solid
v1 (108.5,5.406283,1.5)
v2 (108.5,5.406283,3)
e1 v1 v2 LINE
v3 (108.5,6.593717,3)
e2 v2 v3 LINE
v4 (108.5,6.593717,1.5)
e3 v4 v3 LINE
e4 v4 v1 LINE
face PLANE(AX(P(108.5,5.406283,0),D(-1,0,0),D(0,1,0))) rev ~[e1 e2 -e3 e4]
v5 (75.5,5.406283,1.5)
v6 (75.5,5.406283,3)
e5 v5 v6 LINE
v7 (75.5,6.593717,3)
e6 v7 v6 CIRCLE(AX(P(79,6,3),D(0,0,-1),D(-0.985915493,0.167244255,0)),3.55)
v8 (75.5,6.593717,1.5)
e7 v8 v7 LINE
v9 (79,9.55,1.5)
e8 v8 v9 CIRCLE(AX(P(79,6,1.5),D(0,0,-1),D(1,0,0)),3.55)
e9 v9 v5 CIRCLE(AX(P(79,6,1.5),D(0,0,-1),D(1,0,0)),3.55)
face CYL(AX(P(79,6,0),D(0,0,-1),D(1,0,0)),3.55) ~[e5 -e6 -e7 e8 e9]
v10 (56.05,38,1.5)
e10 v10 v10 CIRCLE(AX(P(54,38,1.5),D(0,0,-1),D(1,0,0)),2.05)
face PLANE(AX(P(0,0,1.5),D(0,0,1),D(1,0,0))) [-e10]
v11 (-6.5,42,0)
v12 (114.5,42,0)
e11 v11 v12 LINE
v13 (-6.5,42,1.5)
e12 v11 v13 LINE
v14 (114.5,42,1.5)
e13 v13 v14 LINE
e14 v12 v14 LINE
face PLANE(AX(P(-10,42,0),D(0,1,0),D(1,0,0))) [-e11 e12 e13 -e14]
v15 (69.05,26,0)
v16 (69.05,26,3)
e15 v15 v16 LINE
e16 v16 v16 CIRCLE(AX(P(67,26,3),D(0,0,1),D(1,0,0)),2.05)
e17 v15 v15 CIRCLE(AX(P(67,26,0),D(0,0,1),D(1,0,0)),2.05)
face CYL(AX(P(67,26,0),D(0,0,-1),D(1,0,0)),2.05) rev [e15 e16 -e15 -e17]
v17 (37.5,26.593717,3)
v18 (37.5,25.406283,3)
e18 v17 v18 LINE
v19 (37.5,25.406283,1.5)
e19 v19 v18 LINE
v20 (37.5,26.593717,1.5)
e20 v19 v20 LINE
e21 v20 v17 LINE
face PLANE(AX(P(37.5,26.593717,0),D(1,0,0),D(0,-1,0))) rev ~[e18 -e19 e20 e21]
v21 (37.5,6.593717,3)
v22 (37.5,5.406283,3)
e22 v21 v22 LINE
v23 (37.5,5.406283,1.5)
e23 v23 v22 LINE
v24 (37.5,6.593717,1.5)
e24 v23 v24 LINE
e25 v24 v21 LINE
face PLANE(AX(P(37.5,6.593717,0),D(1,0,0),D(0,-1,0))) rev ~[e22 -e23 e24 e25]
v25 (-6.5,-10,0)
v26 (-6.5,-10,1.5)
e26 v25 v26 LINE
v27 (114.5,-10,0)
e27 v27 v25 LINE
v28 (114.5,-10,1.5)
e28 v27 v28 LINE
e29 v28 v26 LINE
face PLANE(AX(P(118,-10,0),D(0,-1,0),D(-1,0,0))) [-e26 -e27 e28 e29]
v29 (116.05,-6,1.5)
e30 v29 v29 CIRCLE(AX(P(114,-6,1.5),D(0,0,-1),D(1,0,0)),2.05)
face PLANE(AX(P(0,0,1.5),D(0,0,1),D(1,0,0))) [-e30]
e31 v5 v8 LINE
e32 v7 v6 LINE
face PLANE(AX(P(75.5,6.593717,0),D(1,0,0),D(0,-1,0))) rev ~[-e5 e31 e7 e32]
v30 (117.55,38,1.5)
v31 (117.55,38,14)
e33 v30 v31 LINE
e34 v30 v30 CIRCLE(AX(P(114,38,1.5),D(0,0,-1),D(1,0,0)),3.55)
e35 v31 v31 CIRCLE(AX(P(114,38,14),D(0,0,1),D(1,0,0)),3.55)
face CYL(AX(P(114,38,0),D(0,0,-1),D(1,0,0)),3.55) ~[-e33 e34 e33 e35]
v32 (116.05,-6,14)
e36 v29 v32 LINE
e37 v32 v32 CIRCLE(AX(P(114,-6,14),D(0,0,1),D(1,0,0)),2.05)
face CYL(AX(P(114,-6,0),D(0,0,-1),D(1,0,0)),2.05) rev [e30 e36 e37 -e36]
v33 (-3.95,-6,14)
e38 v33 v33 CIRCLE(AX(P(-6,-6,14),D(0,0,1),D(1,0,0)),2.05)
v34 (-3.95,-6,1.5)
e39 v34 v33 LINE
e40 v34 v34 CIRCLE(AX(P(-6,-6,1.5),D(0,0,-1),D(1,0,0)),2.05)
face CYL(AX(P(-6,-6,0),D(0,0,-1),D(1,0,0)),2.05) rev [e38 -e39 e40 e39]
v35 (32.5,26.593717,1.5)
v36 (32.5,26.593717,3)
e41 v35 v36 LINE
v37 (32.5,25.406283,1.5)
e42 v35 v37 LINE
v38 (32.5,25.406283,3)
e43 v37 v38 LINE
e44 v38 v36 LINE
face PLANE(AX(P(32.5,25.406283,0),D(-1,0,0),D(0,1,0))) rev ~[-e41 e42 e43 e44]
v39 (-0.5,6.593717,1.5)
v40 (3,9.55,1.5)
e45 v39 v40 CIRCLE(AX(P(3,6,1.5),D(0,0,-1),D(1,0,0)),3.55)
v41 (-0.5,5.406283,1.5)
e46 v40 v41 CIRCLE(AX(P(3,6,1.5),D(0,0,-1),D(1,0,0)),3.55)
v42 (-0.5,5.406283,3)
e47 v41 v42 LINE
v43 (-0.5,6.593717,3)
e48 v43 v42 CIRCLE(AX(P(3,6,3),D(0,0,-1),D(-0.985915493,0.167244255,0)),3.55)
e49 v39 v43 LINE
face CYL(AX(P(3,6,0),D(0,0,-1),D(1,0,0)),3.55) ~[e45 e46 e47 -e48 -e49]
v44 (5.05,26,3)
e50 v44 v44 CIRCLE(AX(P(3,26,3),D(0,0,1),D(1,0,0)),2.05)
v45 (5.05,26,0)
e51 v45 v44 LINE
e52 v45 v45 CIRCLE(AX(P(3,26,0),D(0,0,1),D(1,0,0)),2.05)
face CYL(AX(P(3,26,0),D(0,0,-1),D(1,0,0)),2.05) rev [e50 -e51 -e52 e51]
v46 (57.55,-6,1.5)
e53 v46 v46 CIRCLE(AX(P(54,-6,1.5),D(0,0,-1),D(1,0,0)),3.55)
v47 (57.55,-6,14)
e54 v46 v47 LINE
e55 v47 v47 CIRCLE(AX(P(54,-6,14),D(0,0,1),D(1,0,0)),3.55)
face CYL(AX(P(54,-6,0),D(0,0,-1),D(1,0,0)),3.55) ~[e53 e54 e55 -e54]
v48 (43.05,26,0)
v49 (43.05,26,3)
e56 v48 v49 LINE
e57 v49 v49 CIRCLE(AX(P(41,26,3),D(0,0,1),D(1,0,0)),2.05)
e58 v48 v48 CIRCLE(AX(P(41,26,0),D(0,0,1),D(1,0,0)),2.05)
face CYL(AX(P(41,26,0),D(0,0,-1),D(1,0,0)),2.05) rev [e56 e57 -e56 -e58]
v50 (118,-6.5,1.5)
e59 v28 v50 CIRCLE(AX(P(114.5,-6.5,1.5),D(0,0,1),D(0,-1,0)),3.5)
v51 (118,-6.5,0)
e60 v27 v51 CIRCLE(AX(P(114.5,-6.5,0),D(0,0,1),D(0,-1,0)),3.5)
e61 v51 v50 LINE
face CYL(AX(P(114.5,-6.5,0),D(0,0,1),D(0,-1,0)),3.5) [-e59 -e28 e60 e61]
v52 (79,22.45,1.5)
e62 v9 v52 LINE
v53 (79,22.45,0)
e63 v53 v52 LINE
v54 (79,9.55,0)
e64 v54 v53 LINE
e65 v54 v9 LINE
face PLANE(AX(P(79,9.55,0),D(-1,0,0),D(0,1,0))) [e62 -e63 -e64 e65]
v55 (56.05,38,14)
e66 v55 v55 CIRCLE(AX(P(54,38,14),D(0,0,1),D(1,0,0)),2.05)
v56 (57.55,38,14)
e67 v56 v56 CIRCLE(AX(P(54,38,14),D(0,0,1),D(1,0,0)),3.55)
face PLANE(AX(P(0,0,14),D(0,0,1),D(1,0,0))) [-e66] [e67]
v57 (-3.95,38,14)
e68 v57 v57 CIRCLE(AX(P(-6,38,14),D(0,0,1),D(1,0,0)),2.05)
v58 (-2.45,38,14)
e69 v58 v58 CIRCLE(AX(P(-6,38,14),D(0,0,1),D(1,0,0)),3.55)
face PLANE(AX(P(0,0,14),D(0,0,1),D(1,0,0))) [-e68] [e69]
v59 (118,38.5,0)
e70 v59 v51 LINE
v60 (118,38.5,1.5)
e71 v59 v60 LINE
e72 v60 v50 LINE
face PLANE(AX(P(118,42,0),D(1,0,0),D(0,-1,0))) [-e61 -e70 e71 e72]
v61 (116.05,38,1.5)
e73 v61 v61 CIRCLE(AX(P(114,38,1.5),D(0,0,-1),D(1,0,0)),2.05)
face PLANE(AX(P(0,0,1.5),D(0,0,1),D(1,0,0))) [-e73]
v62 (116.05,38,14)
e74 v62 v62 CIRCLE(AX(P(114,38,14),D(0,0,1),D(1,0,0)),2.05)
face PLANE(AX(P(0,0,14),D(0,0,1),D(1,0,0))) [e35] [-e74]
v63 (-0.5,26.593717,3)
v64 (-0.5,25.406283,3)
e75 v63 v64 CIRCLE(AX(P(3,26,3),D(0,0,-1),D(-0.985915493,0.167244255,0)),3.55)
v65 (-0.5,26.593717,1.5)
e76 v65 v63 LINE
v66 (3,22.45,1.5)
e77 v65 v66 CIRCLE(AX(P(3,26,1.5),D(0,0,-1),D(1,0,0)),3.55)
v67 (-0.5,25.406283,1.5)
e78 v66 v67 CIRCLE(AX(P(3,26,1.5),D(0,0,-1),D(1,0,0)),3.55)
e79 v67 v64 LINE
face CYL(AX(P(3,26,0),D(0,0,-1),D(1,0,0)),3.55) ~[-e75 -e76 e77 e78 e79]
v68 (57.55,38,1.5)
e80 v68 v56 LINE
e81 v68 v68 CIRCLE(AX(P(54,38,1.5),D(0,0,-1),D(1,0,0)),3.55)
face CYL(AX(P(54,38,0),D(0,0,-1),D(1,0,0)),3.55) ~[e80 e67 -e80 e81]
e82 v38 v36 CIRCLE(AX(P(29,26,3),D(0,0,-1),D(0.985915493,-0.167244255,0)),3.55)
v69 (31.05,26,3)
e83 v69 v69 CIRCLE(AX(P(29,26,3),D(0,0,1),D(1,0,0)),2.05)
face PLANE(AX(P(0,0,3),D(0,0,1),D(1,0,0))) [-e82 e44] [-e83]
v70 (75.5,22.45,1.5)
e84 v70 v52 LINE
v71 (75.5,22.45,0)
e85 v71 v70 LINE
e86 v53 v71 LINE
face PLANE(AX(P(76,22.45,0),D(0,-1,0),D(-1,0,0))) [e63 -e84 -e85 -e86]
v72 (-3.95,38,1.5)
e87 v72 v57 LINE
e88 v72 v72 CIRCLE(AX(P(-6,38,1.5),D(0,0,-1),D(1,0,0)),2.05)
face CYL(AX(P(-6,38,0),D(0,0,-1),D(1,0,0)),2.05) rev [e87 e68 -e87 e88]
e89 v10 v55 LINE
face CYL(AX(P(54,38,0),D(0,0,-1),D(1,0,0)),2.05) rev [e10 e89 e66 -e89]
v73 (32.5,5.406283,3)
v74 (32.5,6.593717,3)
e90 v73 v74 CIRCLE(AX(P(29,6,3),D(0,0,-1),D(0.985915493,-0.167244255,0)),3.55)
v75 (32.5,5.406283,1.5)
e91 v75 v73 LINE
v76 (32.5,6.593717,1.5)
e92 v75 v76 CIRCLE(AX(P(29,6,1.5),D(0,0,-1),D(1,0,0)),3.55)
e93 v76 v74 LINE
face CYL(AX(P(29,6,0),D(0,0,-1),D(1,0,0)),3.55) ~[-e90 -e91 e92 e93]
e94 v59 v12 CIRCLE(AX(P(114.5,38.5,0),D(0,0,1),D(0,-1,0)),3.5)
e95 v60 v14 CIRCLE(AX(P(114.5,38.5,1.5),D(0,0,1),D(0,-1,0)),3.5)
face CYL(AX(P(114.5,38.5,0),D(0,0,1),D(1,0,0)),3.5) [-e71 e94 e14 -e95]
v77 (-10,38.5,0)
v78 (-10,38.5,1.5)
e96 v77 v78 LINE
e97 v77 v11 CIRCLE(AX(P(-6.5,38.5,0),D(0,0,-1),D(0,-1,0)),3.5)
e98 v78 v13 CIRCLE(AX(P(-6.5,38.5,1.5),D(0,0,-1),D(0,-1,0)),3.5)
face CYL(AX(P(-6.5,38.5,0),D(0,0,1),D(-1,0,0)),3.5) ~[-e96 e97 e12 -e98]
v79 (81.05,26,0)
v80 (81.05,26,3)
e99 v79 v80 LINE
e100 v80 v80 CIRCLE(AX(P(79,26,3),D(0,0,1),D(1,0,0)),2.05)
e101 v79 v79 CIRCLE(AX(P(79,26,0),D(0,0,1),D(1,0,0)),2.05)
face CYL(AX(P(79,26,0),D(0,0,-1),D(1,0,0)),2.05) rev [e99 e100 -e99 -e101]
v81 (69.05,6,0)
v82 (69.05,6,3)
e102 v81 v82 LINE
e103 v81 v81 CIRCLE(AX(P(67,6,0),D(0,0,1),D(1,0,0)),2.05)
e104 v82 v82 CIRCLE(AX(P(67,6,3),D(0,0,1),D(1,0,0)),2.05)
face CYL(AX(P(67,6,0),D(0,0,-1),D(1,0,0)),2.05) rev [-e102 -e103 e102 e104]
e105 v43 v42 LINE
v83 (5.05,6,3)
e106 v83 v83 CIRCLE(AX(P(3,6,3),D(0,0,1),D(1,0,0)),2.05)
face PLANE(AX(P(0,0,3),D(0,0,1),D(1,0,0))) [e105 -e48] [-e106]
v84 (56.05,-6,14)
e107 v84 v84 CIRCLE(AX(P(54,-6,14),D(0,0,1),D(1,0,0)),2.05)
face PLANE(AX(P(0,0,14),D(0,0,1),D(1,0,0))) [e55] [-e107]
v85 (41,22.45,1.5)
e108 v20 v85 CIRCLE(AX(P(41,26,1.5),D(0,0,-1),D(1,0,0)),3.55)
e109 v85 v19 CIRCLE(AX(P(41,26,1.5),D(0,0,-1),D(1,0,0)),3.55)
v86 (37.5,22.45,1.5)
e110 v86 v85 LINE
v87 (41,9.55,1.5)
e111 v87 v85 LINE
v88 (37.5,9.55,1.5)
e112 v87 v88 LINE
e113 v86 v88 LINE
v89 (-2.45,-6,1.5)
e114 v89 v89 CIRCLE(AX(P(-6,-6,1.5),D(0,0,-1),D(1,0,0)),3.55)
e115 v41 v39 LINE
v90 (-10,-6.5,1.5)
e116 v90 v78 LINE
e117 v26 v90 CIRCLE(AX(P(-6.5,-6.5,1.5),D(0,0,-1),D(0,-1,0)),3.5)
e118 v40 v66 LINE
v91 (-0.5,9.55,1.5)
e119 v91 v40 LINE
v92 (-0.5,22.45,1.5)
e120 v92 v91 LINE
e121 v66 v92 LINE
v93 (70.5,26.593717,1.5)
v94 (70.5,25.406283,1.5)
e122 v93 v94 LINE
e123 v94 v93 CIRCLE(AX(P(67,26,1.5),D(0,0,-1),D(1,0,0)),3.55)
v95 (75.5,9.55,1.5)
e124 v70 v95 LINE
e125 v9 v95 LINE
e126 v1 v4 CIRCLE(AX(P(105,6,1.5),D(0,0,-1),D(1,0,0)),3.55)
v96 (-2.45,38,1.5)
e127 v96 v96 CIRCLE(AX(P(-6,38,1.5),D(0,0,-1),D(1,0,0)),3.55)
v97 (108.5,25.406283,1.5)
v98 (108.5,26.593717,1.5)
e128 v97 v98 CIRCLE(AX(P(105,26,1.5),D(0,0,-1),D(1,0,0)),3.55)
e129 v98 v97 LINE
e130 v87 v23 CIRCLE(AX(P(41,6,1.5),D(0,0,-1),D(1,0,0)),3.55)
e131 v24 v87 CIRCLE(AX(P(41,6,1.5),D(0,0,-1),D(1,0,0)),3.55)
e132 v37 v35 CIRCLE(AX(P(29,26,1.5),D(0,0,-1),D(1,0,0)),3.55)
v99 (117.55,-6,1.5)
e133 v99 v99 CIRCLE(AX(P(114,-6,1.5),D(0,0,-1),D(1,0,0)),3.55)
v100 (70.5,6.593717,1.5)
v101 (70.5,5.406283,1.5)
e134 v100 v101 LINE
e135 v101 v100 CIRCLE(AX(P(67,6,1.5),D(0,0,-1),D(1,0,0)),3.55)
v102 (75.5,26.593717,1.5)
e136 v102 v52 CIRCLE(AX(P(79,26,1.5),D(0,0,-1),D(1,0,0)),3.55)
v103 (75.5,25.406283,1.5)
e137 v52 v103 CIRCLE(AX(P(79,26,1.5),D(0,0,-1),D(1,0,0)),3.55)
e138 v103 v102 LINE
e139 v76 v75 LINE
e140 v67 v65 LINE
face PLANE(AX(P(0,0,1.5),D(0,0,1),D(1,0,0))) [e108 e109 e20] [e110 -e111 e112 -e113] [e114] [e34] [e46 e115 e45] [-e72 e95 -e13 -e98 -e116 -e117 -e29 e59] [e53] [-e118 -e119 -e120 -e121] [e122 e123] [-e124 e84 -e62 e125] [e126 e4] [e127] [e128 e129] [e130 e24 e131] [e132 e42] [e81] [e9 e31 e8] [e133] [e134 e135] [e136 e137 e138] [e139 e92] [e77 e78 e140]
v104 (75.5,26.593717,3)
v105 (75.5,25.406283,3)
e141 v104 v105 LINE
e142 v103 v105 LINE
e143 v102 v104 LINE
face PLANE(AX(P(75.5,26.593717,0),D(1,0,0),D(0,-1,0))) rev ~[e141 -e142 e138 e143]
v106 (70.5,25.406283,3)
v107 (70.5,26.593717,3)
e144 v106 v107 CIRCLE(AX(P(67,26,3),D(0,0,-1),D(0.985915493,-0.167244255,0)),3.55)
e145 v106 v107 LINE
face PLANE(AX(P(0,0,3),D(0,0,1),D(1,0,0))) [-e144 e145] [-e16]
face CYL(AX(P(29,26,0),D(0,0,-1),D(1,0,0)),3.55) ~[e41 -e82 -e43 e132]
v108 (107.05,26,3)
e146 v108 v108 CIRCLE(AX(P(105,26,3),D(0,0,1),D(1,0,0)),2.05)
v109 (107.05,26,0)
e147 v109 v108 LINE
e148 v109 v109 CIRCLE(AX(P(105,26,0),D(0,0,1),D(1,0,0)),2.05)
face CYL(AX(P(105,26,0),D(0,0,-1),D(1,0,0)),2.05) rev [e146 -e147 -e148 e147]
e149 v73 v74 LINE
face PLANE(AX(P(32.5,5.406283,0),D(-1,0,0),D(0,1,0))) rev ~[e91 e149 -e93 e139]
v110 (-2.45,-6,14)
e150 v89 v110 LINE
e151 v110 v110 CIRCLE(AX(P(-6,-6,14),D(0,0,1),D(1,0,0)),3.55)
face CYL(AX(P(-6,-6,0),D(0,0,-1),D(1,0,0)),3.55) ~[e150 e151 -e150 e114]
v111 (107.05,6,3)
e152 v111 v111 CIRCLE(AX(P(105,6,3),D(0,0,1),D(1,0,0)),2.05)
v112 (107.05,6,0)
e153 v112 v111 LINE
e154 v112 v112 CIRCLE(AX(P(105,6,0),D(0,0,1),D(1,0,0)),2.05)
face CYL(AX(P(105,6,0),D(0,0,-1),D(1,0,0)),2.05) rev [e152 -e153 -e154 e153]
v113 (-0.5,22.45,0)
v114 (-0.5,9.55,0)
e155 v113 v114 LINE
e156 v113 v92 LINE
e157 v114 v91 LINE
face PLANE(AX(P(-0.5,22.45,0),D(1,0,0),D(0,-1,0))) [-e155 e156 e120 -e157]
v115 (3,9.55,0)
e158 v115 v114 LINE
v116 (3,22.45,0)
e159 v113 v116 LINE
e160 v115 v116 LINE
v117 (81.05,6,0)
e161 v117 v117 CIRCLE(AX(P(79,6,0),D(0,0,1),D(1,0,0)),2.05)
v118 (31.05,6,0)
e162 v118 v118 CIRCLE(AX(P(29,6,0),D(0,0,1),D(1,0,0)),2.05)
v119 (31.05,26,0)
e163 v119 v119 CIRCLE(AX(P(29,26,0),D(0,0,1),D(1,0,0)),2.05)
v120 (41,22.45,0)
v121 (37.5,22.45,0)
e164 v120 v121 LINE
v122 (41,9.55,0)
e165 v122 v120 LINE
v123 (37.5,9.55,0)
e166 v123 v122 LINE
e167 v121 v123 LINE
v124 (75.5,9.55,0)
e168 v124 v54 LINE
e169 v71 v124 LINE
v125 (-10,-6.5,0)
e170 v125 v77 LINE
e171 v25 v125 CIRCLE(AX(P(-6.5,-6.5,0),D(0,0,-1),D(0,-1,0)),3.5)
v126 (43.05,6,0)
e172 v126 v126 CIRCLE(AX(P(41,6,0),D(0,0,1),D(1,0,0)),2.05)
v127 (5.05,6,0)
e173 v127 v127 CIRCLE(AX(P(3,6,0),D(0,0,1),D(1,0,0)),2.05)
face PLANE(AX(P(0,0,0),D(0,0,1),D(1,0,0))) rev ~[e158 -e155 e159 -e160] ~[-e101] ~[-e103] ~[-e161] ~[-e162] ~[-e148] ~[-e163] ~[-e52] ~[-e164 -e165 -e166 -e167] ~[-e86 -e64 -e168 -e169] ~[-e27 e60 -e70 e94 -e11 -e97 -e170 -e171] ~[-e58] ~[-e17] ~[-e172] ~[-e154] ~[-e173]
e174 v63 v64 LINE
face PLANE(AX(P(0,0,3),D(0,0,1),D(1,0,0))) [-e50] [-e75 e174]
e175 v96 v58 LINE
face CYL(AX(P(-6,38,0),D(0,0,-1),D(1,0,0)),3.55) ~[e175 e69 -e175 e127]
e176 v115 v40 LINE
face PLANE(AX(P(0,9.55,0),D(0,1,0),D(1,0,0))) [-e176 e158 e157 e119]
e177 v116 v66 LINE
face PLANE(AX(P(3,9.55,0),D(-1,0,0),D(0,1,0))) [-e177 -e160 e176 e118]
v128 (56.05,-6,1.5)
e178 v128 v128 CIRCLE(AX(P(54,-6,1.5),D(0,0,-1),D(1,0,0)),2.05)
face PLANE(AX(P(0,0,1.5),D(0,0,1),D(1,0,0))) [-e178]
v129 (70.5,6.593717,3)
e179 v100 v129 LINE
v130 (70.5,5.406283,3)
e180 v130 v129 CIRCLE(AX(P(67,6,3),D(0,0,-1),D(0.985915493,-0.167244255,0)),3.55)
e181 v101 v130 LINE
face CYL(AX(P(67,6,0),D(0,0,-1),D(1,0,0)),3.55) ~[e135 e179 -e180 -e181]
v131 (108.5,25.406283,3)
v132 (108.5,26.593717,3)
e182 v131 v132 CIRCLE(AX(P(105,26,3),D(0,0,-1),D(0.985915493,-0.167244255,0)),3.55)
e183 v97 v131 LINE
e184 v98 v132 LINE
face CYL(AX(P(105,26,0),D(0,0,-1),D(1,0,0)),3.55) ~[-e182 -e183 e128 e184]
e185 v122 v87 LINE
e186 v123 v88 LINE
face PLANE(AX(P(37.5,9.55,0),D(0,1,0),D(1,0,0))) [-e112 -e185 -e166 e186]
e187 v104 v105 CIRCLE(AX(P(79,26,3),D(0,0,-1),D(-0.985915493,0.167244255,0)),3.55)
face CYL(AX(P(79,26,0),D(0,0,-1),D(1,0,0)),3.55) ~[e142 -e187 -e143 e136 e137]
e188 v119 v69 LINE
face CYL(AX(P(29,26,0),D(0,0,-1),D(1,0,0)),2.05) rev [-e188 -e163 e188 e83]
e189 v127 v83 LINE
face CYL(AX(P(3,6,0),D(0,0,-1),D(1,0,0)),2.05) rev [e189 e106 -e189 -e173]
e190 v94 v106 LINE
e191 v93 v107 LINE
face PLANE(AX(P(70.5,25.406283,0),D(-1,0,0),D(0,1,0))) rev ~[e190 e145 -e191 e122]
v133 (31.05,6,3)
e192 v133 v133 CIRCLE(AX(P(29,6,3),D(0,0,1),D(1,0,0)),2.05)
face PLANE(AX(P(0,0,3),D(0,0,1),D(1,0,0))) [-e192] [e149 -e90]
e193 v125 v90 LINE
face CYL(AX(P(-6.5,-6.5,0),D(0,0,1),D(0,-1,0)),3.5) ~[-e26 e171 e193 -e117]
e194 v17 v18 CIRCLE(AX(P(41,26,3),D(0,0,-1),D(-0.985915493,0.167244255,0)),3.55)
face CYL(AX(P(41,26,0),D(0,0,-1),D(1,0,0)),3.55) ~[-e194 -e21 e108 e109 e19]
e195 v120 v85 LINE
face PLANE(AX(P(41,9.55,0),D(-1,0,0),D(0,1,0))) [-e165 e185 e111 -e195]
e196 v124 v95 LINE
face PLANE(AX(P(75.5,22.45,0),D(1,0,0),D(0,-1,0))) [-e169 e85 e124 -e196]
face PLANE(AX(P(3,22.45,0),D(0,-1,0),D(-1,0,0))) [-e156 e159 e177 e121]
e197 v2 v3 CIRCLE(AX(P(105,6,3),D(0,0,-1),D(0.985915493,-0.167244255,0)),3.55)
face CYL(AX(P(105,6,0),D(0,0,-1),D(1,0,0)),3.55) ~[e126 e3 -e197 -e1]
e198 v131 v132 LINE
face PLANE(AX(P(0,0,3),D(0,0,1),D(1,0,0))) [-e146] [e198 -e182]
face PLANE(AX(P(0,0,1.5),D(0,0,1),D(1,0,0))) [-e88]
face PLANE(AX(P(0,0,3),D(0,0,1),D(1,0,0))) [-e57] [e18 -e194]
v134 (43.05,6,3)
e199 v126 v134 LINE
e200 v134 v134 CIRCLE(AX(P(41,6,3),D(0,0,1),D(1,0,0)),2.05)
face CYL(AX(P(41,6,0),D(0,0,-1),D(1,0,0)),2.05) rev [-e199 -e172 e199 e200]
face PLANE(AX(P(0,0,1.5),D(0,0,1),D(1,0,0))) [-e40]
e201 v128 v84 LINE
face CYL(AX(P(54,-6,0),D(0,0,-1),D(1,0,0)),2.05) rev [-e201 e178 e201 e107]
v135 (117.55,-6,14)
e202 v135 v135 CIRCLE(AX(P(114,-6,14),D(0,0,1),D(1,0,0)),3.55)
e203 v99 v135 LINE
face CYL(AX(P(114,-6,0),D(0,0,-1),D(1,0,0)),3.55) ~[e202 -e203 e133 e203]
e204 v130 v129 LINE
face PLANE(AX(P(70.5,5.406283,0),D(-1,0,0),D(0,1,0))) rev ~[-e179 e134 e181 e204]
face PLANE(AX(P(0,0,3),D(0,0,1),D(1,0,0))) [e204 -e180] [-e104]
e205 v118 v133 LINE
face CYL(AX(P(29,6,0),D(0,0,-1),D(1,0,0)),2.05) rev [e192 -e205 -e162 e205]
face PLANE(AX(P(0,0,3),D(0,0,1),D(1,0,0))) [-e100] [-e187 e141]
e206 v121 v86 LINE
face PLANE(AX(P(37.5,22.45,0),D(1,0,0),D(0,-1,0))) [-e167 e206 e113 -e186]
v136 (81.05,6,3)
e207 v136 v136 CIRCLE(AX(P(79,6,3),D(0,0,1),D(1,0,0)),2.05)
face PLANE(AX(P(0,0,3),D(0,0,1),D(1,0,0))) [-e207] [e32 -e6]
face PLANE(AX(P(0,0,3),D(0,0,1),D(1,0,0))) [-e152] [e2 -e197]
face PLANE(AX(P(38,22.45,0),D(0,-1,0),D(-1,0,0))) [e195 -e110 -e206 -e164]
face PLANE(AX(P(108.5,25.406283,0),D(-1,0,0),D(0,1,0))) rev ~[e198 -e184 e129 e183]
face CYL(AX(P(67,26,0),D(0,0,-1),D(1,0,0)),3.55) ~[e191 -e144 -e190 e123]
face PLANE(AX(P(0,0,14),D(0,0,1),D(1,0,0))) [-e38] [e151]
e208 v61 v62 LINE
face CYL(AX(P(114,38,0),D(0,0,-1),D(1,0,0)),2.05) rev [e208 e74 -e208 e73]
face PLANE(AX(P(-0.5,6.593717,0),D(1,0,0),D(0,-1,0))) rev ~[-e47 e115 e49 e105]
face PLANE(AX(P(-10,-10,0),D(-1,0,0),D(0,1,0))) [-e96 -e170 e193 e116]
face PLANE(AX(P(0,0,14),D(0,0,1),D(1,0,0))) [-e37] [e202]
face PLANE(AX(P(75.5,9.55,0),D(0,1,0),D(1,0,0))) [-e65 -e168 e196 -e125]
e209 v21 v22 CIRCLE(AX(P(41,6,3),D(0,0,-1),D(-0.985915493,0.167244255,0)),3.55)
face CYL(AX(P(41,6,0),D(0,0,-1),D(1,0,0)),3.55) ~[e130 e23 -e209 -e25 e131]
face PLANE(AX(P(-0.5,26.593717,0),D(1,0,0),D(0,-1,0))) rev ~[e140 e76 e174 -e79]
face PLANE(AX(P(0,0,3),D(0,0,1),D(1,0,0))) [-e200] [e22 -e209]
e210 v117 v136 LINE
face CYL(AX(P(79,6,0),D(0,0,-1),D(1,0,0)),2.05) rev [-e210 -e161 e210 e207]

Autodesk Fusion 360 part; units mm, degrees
sketch "Sketch3" plane through (0, 0, 0) normal (0, 0, 1) x (1, 0, 0)
  line L0 (0, 0) -> (32, 0)
  line L1 (32, 0) -> (32, 32)
  line L2 (32, 32) -> (0, 32)
  line L3 (0, 32) -> (0, 0)
  line L4 (-0.5, 32.5) -> (-0.5, -0.5)
  line L5 (-0.5, -0.5) -> (32.5, -0.5)
  line L6 (32.5, -0.5) -> (32.5, 32.5)
  line L7 (32.5, 32.5) -> (-0.5, 32.5)
  line L8 (70, 32) -> (38, 32)
  line L9 (38, 32) -> (38, 0)
  line L10 (37.5, -0.5) -> (70.5, -0.5)
  line L11 (70.5, 32.5) -> (37.5, 32.5)
  line L12 (70, 0) -> (70, 32)
  line L13 (70.5, -0.5) -> (70.5, 32.5)
  line L14 (38, 0) -> (70, 0)
  line L15 (37.5, 32.5) -> (37.5, -0.5)
  line L16 (108, 32) -> (76, 32)
  line L17 (76, 32) -> (76, 0)
  line L18 (75.5, -0.5) -> (108.5, -0.5)
  line L19 (108.5, 32.5) -> (75.5, 32.5)
  line L20 (108, 0) -> (108, 32)
  line L21 (108.5, -0.5) -> (108.5, 32.5)
  line L22 (76, 0) -> (108, 0)
  line L23 (75.5, 32.5) -> (75.5, -0.5)
  line L24 (38, 32) -> (70, 0)
  line L25 (70, 32) -> (38, 0)
  line L26 (118, -10) -> (-10, -10)
  line L27 (-10, -10) -> (-10, 42)
  line L28 (-10, 42) -> (118, 42)
  line L29 (118, 42) -> (118, -10)
  line L30 (118, -10) -> (-10, 42) construction
  line L31 (-10, -10) -> (118, 42) construction
  circle A0 centre (3, 26) radius 2.05
  circle A1 centre (3, 26) radius 3.55
  circle A2 centre (29, 26) radius 3.55
  circle A3 centre (29, 26) radius 2.05
  circle A4 centre (29, 6) radius 2.05
  circle A5 centre (29, 6) radius 3.55
  circle A6 centre (3, 6) radius 2.05
  circle A7 centre (3, 6) radius 3.55
  circle A8 centre (67, 6) radius 2.05
  circle A9 centre (67, 6) radius 3.55
  circle A10 centre (41, 6) radius 2.05
  circle A11 centre (41, 6) radius 3.55
  circle A12 centre (67, 26) radius 2.05
  circle A13 centre (67, 26) radius 3.55
  circle A14 centre (41, 26) radius 2.05
  circle A15 centre (41, 26) radius 3.55
  circle A16 centre (105, 6) radius 2.05
  circle A17 centre (105, 6) radius 3.55
  circle A18 centre (79, 6) radius 2.05
  circle A19 centre (79, 6) radius 3.55
  circle A20 centre (105, 26) radius 2.05
  circle A21 centre (105, 26) radius 3.55
  circle A22 centre (79, 26) radius 2.05
  circle A23 centre (79, 26) radius 3.55
  line L32 (3, 22.45) -> (-0.5, 22.45)
  line L33 (-0.5, 22.45) -> (-0.5, 9.55)
  line L34 (-0.5, 9.55) -> (3, 9.55)
  line L35 (3, 9.55) -> (3, 22.45)
  line L36 (41, 22.45) -> (37.5, 22.45)
  line L37 (41, 9.55) -> (41, 22.45)
  line L38 (37.5, 9.55) -> (41, 9.55)
  line L39 (37.5, 22.45) -> (37.5, 9.55)
  line L40 (79, 22.45) -> (75.5, 22.45)
  line L41 (79, 9.55) -> (79, 22.45)
  line L42 (75.5, 9.55) -> (79, 9.55)
  line L43 (75.5, 22.45) -> (75.5, 9.55)
  circle A24 centre (-6, 38) radius 2.05
  circle A25 centre (-6, 38) radius 3.55
  circle A26 centre (54, 38) radius 2.05
  circle A27 centre (54, 38) radius 3.55
  circle A28 centre (114, 38) radius 2.05
  circle A29 centre (114, 38) radius 3.55
  circle A30 centre (-6, -6) radius 2.05
  circle A31 centre (-6, -6) radius 3.55
  circle A32 centre (54, -6) radius 2.05
  circle A33 centre (54, -6) radius 3.55
  circle A34 centre (114, -6) radius 2.05
  circle A35 centre (114, -6) radius 3.55
  point P0 (38, 0)
  point P1 (76, 0)
  point P2 (54, 16)
  dimension "d57" = 32
  dimension "d58" = 32
  dimension "d59" = 0.5
  dimension "d62" = 76
  dimension "d63" = 0
  dimension "d66" = 10
  dimension "d67" = 10
  dimension "d68" = 4.1
  dimension "d69" = 3
  dimension "d70" = 6
  dimension "d71" = 7.1
  dimension "d74" = 26
  dimension "d75" = 0
  dimension "d78" = 0
  dimension "d79" = -20
  dimension "d82" = 76
  dimension "d83" = 0
  dimension "d84" = 3.5
  dimension "d85" = 12.9
  dimension "d86" = 9.55
  dimension "d89" = 76
  dimension "d90" = 0
  dimension "d95" = 4
  dimension "d96" = 4
  dimension "d97" = 4.1
  dimension "d98" = 7.1
  dimension "d101" = 120
  dimension "d102" = 0
  dimension "d105" = 0
  dimension "d106" = -44
extrude "Extrude1" add sketch "Sketch3" along normal blind 1.5 contours L0 L1 L2 L3 A1 A2 A5 A7 L35 | L0 L1 L3 L4 L5 L6 A5 A7 | L3 L4 A7 | L3 A7 | L1 A5 | L1 L6 A5 | L3 L4 A7 L34 | L3 A7 L34 | L4 A7 | L1 L6 A2 A5 | L6 A5 | L1 A2 | L1 L6 A2 | L3 L4 A1 L32 | L3 A1 L32 | L3 A1 | L1 L2 L3 L4 L6 L7 A1 A2 | L6 A2 | L3 L4 A1 | L4 A1 | L8 L24 L25 A13 A15 | L8 L9 L11 L12 L13 L15 A13 A15 | L12 L25 A13 | L9 L24 A15 | L12 L13 A13 | L12 L25 A13 | L25 A13 | L9 L24 A15 | L9 L15 A15 | L24 A15 | L12 L13 A9 A13 | L12 L24 L25 A9 A13 | L13 A13 | L9 A15 L36 | L9 L15 A15 L36 | L15 A15 | L24 L25 A11 A15 L37 | L12 L13 A9 | L12 L24 A9 | L14 L24 L25 A9 A11 | L9 L10 L12 L13 L14 L15 A9 A11 | L12 L24 A9 | L13 A9 | L24 A9 | L25 A11 | L9 L25 A11 | L9 A11 L38 | L9 L15 A11 L38 | L9 L25 A11 | L9 L15 A11 | L15 A11 | L16 L17 L20 L22 A17 A19 A21 A23 L41 | L16 L17 L19 L20 L21 L23 A21 A23 | L20 L21 A21 | L20 A21 | L17 A23 | L17 L23 A23 | L20 L21 A17 A21 | L21 A21 | L17 A23 L40 | L17 L23 A23 L40 | L23 A23 | L20 L21 A17 | L20 A17 | L17 L18 L20 L21 L22 L23 A17 A19 | L21 A17 | L17 A19 L42 | L17 L23 A19 L42 | L17 A19 | L17 L23 A19 | L23 A19 | L26 L27 L28 L29 | A24 | A25 | A26 | A27 | A28 | A29 | A30 | A31 | A32 | A33 | A34 | A35
extrude "Extrude2" add sketch "Sketch3" along normal blind 3 contours L3 L4 A7 | L3 A7 | L1 A5 | L1 L6 A5 | L1 A2 | L1 L6 A2 | L3 A1 | L3 L4 A1 | L12 L13 A13 | L12 L25 A13 | L25 A13 | L9 L24 A15 | L9 L15 A15 | L24 A15 | L12 L13 A9 | L12 L24 A9 | L24 A9 | L25 A11 | L9 L25 A11 | L9 L15 A11 | L20 L21 A21 | L20 A21 | L17 A23 | L17 L23 A23 | L20 L21 A17 | L20 A17 | L17 A19 | L17 L23 A19 picked at (69.6833, 26) picked at (38.3167, 26) picked at (69.6833, 6) picked at (38.3167, 6)
extrude "Extrude3" add sketch "Sketch3" along normal blind 14 contours A25 | A27 | A29 | A31 | A33 | A35
fillet "Fillet1" radius 3.5 4 edges at (118, -10, 0.75) (-10, -10, 0.75) (118, 42, 0.75) (-10, 42, 0.75)
equation "d71 = d68 + 3 mm"
equation "d97 = d68"
equation "d98 = d97 + 3 mm"
equation "d111 = 3 mm + 12.5 mm - 1.5 mm"
